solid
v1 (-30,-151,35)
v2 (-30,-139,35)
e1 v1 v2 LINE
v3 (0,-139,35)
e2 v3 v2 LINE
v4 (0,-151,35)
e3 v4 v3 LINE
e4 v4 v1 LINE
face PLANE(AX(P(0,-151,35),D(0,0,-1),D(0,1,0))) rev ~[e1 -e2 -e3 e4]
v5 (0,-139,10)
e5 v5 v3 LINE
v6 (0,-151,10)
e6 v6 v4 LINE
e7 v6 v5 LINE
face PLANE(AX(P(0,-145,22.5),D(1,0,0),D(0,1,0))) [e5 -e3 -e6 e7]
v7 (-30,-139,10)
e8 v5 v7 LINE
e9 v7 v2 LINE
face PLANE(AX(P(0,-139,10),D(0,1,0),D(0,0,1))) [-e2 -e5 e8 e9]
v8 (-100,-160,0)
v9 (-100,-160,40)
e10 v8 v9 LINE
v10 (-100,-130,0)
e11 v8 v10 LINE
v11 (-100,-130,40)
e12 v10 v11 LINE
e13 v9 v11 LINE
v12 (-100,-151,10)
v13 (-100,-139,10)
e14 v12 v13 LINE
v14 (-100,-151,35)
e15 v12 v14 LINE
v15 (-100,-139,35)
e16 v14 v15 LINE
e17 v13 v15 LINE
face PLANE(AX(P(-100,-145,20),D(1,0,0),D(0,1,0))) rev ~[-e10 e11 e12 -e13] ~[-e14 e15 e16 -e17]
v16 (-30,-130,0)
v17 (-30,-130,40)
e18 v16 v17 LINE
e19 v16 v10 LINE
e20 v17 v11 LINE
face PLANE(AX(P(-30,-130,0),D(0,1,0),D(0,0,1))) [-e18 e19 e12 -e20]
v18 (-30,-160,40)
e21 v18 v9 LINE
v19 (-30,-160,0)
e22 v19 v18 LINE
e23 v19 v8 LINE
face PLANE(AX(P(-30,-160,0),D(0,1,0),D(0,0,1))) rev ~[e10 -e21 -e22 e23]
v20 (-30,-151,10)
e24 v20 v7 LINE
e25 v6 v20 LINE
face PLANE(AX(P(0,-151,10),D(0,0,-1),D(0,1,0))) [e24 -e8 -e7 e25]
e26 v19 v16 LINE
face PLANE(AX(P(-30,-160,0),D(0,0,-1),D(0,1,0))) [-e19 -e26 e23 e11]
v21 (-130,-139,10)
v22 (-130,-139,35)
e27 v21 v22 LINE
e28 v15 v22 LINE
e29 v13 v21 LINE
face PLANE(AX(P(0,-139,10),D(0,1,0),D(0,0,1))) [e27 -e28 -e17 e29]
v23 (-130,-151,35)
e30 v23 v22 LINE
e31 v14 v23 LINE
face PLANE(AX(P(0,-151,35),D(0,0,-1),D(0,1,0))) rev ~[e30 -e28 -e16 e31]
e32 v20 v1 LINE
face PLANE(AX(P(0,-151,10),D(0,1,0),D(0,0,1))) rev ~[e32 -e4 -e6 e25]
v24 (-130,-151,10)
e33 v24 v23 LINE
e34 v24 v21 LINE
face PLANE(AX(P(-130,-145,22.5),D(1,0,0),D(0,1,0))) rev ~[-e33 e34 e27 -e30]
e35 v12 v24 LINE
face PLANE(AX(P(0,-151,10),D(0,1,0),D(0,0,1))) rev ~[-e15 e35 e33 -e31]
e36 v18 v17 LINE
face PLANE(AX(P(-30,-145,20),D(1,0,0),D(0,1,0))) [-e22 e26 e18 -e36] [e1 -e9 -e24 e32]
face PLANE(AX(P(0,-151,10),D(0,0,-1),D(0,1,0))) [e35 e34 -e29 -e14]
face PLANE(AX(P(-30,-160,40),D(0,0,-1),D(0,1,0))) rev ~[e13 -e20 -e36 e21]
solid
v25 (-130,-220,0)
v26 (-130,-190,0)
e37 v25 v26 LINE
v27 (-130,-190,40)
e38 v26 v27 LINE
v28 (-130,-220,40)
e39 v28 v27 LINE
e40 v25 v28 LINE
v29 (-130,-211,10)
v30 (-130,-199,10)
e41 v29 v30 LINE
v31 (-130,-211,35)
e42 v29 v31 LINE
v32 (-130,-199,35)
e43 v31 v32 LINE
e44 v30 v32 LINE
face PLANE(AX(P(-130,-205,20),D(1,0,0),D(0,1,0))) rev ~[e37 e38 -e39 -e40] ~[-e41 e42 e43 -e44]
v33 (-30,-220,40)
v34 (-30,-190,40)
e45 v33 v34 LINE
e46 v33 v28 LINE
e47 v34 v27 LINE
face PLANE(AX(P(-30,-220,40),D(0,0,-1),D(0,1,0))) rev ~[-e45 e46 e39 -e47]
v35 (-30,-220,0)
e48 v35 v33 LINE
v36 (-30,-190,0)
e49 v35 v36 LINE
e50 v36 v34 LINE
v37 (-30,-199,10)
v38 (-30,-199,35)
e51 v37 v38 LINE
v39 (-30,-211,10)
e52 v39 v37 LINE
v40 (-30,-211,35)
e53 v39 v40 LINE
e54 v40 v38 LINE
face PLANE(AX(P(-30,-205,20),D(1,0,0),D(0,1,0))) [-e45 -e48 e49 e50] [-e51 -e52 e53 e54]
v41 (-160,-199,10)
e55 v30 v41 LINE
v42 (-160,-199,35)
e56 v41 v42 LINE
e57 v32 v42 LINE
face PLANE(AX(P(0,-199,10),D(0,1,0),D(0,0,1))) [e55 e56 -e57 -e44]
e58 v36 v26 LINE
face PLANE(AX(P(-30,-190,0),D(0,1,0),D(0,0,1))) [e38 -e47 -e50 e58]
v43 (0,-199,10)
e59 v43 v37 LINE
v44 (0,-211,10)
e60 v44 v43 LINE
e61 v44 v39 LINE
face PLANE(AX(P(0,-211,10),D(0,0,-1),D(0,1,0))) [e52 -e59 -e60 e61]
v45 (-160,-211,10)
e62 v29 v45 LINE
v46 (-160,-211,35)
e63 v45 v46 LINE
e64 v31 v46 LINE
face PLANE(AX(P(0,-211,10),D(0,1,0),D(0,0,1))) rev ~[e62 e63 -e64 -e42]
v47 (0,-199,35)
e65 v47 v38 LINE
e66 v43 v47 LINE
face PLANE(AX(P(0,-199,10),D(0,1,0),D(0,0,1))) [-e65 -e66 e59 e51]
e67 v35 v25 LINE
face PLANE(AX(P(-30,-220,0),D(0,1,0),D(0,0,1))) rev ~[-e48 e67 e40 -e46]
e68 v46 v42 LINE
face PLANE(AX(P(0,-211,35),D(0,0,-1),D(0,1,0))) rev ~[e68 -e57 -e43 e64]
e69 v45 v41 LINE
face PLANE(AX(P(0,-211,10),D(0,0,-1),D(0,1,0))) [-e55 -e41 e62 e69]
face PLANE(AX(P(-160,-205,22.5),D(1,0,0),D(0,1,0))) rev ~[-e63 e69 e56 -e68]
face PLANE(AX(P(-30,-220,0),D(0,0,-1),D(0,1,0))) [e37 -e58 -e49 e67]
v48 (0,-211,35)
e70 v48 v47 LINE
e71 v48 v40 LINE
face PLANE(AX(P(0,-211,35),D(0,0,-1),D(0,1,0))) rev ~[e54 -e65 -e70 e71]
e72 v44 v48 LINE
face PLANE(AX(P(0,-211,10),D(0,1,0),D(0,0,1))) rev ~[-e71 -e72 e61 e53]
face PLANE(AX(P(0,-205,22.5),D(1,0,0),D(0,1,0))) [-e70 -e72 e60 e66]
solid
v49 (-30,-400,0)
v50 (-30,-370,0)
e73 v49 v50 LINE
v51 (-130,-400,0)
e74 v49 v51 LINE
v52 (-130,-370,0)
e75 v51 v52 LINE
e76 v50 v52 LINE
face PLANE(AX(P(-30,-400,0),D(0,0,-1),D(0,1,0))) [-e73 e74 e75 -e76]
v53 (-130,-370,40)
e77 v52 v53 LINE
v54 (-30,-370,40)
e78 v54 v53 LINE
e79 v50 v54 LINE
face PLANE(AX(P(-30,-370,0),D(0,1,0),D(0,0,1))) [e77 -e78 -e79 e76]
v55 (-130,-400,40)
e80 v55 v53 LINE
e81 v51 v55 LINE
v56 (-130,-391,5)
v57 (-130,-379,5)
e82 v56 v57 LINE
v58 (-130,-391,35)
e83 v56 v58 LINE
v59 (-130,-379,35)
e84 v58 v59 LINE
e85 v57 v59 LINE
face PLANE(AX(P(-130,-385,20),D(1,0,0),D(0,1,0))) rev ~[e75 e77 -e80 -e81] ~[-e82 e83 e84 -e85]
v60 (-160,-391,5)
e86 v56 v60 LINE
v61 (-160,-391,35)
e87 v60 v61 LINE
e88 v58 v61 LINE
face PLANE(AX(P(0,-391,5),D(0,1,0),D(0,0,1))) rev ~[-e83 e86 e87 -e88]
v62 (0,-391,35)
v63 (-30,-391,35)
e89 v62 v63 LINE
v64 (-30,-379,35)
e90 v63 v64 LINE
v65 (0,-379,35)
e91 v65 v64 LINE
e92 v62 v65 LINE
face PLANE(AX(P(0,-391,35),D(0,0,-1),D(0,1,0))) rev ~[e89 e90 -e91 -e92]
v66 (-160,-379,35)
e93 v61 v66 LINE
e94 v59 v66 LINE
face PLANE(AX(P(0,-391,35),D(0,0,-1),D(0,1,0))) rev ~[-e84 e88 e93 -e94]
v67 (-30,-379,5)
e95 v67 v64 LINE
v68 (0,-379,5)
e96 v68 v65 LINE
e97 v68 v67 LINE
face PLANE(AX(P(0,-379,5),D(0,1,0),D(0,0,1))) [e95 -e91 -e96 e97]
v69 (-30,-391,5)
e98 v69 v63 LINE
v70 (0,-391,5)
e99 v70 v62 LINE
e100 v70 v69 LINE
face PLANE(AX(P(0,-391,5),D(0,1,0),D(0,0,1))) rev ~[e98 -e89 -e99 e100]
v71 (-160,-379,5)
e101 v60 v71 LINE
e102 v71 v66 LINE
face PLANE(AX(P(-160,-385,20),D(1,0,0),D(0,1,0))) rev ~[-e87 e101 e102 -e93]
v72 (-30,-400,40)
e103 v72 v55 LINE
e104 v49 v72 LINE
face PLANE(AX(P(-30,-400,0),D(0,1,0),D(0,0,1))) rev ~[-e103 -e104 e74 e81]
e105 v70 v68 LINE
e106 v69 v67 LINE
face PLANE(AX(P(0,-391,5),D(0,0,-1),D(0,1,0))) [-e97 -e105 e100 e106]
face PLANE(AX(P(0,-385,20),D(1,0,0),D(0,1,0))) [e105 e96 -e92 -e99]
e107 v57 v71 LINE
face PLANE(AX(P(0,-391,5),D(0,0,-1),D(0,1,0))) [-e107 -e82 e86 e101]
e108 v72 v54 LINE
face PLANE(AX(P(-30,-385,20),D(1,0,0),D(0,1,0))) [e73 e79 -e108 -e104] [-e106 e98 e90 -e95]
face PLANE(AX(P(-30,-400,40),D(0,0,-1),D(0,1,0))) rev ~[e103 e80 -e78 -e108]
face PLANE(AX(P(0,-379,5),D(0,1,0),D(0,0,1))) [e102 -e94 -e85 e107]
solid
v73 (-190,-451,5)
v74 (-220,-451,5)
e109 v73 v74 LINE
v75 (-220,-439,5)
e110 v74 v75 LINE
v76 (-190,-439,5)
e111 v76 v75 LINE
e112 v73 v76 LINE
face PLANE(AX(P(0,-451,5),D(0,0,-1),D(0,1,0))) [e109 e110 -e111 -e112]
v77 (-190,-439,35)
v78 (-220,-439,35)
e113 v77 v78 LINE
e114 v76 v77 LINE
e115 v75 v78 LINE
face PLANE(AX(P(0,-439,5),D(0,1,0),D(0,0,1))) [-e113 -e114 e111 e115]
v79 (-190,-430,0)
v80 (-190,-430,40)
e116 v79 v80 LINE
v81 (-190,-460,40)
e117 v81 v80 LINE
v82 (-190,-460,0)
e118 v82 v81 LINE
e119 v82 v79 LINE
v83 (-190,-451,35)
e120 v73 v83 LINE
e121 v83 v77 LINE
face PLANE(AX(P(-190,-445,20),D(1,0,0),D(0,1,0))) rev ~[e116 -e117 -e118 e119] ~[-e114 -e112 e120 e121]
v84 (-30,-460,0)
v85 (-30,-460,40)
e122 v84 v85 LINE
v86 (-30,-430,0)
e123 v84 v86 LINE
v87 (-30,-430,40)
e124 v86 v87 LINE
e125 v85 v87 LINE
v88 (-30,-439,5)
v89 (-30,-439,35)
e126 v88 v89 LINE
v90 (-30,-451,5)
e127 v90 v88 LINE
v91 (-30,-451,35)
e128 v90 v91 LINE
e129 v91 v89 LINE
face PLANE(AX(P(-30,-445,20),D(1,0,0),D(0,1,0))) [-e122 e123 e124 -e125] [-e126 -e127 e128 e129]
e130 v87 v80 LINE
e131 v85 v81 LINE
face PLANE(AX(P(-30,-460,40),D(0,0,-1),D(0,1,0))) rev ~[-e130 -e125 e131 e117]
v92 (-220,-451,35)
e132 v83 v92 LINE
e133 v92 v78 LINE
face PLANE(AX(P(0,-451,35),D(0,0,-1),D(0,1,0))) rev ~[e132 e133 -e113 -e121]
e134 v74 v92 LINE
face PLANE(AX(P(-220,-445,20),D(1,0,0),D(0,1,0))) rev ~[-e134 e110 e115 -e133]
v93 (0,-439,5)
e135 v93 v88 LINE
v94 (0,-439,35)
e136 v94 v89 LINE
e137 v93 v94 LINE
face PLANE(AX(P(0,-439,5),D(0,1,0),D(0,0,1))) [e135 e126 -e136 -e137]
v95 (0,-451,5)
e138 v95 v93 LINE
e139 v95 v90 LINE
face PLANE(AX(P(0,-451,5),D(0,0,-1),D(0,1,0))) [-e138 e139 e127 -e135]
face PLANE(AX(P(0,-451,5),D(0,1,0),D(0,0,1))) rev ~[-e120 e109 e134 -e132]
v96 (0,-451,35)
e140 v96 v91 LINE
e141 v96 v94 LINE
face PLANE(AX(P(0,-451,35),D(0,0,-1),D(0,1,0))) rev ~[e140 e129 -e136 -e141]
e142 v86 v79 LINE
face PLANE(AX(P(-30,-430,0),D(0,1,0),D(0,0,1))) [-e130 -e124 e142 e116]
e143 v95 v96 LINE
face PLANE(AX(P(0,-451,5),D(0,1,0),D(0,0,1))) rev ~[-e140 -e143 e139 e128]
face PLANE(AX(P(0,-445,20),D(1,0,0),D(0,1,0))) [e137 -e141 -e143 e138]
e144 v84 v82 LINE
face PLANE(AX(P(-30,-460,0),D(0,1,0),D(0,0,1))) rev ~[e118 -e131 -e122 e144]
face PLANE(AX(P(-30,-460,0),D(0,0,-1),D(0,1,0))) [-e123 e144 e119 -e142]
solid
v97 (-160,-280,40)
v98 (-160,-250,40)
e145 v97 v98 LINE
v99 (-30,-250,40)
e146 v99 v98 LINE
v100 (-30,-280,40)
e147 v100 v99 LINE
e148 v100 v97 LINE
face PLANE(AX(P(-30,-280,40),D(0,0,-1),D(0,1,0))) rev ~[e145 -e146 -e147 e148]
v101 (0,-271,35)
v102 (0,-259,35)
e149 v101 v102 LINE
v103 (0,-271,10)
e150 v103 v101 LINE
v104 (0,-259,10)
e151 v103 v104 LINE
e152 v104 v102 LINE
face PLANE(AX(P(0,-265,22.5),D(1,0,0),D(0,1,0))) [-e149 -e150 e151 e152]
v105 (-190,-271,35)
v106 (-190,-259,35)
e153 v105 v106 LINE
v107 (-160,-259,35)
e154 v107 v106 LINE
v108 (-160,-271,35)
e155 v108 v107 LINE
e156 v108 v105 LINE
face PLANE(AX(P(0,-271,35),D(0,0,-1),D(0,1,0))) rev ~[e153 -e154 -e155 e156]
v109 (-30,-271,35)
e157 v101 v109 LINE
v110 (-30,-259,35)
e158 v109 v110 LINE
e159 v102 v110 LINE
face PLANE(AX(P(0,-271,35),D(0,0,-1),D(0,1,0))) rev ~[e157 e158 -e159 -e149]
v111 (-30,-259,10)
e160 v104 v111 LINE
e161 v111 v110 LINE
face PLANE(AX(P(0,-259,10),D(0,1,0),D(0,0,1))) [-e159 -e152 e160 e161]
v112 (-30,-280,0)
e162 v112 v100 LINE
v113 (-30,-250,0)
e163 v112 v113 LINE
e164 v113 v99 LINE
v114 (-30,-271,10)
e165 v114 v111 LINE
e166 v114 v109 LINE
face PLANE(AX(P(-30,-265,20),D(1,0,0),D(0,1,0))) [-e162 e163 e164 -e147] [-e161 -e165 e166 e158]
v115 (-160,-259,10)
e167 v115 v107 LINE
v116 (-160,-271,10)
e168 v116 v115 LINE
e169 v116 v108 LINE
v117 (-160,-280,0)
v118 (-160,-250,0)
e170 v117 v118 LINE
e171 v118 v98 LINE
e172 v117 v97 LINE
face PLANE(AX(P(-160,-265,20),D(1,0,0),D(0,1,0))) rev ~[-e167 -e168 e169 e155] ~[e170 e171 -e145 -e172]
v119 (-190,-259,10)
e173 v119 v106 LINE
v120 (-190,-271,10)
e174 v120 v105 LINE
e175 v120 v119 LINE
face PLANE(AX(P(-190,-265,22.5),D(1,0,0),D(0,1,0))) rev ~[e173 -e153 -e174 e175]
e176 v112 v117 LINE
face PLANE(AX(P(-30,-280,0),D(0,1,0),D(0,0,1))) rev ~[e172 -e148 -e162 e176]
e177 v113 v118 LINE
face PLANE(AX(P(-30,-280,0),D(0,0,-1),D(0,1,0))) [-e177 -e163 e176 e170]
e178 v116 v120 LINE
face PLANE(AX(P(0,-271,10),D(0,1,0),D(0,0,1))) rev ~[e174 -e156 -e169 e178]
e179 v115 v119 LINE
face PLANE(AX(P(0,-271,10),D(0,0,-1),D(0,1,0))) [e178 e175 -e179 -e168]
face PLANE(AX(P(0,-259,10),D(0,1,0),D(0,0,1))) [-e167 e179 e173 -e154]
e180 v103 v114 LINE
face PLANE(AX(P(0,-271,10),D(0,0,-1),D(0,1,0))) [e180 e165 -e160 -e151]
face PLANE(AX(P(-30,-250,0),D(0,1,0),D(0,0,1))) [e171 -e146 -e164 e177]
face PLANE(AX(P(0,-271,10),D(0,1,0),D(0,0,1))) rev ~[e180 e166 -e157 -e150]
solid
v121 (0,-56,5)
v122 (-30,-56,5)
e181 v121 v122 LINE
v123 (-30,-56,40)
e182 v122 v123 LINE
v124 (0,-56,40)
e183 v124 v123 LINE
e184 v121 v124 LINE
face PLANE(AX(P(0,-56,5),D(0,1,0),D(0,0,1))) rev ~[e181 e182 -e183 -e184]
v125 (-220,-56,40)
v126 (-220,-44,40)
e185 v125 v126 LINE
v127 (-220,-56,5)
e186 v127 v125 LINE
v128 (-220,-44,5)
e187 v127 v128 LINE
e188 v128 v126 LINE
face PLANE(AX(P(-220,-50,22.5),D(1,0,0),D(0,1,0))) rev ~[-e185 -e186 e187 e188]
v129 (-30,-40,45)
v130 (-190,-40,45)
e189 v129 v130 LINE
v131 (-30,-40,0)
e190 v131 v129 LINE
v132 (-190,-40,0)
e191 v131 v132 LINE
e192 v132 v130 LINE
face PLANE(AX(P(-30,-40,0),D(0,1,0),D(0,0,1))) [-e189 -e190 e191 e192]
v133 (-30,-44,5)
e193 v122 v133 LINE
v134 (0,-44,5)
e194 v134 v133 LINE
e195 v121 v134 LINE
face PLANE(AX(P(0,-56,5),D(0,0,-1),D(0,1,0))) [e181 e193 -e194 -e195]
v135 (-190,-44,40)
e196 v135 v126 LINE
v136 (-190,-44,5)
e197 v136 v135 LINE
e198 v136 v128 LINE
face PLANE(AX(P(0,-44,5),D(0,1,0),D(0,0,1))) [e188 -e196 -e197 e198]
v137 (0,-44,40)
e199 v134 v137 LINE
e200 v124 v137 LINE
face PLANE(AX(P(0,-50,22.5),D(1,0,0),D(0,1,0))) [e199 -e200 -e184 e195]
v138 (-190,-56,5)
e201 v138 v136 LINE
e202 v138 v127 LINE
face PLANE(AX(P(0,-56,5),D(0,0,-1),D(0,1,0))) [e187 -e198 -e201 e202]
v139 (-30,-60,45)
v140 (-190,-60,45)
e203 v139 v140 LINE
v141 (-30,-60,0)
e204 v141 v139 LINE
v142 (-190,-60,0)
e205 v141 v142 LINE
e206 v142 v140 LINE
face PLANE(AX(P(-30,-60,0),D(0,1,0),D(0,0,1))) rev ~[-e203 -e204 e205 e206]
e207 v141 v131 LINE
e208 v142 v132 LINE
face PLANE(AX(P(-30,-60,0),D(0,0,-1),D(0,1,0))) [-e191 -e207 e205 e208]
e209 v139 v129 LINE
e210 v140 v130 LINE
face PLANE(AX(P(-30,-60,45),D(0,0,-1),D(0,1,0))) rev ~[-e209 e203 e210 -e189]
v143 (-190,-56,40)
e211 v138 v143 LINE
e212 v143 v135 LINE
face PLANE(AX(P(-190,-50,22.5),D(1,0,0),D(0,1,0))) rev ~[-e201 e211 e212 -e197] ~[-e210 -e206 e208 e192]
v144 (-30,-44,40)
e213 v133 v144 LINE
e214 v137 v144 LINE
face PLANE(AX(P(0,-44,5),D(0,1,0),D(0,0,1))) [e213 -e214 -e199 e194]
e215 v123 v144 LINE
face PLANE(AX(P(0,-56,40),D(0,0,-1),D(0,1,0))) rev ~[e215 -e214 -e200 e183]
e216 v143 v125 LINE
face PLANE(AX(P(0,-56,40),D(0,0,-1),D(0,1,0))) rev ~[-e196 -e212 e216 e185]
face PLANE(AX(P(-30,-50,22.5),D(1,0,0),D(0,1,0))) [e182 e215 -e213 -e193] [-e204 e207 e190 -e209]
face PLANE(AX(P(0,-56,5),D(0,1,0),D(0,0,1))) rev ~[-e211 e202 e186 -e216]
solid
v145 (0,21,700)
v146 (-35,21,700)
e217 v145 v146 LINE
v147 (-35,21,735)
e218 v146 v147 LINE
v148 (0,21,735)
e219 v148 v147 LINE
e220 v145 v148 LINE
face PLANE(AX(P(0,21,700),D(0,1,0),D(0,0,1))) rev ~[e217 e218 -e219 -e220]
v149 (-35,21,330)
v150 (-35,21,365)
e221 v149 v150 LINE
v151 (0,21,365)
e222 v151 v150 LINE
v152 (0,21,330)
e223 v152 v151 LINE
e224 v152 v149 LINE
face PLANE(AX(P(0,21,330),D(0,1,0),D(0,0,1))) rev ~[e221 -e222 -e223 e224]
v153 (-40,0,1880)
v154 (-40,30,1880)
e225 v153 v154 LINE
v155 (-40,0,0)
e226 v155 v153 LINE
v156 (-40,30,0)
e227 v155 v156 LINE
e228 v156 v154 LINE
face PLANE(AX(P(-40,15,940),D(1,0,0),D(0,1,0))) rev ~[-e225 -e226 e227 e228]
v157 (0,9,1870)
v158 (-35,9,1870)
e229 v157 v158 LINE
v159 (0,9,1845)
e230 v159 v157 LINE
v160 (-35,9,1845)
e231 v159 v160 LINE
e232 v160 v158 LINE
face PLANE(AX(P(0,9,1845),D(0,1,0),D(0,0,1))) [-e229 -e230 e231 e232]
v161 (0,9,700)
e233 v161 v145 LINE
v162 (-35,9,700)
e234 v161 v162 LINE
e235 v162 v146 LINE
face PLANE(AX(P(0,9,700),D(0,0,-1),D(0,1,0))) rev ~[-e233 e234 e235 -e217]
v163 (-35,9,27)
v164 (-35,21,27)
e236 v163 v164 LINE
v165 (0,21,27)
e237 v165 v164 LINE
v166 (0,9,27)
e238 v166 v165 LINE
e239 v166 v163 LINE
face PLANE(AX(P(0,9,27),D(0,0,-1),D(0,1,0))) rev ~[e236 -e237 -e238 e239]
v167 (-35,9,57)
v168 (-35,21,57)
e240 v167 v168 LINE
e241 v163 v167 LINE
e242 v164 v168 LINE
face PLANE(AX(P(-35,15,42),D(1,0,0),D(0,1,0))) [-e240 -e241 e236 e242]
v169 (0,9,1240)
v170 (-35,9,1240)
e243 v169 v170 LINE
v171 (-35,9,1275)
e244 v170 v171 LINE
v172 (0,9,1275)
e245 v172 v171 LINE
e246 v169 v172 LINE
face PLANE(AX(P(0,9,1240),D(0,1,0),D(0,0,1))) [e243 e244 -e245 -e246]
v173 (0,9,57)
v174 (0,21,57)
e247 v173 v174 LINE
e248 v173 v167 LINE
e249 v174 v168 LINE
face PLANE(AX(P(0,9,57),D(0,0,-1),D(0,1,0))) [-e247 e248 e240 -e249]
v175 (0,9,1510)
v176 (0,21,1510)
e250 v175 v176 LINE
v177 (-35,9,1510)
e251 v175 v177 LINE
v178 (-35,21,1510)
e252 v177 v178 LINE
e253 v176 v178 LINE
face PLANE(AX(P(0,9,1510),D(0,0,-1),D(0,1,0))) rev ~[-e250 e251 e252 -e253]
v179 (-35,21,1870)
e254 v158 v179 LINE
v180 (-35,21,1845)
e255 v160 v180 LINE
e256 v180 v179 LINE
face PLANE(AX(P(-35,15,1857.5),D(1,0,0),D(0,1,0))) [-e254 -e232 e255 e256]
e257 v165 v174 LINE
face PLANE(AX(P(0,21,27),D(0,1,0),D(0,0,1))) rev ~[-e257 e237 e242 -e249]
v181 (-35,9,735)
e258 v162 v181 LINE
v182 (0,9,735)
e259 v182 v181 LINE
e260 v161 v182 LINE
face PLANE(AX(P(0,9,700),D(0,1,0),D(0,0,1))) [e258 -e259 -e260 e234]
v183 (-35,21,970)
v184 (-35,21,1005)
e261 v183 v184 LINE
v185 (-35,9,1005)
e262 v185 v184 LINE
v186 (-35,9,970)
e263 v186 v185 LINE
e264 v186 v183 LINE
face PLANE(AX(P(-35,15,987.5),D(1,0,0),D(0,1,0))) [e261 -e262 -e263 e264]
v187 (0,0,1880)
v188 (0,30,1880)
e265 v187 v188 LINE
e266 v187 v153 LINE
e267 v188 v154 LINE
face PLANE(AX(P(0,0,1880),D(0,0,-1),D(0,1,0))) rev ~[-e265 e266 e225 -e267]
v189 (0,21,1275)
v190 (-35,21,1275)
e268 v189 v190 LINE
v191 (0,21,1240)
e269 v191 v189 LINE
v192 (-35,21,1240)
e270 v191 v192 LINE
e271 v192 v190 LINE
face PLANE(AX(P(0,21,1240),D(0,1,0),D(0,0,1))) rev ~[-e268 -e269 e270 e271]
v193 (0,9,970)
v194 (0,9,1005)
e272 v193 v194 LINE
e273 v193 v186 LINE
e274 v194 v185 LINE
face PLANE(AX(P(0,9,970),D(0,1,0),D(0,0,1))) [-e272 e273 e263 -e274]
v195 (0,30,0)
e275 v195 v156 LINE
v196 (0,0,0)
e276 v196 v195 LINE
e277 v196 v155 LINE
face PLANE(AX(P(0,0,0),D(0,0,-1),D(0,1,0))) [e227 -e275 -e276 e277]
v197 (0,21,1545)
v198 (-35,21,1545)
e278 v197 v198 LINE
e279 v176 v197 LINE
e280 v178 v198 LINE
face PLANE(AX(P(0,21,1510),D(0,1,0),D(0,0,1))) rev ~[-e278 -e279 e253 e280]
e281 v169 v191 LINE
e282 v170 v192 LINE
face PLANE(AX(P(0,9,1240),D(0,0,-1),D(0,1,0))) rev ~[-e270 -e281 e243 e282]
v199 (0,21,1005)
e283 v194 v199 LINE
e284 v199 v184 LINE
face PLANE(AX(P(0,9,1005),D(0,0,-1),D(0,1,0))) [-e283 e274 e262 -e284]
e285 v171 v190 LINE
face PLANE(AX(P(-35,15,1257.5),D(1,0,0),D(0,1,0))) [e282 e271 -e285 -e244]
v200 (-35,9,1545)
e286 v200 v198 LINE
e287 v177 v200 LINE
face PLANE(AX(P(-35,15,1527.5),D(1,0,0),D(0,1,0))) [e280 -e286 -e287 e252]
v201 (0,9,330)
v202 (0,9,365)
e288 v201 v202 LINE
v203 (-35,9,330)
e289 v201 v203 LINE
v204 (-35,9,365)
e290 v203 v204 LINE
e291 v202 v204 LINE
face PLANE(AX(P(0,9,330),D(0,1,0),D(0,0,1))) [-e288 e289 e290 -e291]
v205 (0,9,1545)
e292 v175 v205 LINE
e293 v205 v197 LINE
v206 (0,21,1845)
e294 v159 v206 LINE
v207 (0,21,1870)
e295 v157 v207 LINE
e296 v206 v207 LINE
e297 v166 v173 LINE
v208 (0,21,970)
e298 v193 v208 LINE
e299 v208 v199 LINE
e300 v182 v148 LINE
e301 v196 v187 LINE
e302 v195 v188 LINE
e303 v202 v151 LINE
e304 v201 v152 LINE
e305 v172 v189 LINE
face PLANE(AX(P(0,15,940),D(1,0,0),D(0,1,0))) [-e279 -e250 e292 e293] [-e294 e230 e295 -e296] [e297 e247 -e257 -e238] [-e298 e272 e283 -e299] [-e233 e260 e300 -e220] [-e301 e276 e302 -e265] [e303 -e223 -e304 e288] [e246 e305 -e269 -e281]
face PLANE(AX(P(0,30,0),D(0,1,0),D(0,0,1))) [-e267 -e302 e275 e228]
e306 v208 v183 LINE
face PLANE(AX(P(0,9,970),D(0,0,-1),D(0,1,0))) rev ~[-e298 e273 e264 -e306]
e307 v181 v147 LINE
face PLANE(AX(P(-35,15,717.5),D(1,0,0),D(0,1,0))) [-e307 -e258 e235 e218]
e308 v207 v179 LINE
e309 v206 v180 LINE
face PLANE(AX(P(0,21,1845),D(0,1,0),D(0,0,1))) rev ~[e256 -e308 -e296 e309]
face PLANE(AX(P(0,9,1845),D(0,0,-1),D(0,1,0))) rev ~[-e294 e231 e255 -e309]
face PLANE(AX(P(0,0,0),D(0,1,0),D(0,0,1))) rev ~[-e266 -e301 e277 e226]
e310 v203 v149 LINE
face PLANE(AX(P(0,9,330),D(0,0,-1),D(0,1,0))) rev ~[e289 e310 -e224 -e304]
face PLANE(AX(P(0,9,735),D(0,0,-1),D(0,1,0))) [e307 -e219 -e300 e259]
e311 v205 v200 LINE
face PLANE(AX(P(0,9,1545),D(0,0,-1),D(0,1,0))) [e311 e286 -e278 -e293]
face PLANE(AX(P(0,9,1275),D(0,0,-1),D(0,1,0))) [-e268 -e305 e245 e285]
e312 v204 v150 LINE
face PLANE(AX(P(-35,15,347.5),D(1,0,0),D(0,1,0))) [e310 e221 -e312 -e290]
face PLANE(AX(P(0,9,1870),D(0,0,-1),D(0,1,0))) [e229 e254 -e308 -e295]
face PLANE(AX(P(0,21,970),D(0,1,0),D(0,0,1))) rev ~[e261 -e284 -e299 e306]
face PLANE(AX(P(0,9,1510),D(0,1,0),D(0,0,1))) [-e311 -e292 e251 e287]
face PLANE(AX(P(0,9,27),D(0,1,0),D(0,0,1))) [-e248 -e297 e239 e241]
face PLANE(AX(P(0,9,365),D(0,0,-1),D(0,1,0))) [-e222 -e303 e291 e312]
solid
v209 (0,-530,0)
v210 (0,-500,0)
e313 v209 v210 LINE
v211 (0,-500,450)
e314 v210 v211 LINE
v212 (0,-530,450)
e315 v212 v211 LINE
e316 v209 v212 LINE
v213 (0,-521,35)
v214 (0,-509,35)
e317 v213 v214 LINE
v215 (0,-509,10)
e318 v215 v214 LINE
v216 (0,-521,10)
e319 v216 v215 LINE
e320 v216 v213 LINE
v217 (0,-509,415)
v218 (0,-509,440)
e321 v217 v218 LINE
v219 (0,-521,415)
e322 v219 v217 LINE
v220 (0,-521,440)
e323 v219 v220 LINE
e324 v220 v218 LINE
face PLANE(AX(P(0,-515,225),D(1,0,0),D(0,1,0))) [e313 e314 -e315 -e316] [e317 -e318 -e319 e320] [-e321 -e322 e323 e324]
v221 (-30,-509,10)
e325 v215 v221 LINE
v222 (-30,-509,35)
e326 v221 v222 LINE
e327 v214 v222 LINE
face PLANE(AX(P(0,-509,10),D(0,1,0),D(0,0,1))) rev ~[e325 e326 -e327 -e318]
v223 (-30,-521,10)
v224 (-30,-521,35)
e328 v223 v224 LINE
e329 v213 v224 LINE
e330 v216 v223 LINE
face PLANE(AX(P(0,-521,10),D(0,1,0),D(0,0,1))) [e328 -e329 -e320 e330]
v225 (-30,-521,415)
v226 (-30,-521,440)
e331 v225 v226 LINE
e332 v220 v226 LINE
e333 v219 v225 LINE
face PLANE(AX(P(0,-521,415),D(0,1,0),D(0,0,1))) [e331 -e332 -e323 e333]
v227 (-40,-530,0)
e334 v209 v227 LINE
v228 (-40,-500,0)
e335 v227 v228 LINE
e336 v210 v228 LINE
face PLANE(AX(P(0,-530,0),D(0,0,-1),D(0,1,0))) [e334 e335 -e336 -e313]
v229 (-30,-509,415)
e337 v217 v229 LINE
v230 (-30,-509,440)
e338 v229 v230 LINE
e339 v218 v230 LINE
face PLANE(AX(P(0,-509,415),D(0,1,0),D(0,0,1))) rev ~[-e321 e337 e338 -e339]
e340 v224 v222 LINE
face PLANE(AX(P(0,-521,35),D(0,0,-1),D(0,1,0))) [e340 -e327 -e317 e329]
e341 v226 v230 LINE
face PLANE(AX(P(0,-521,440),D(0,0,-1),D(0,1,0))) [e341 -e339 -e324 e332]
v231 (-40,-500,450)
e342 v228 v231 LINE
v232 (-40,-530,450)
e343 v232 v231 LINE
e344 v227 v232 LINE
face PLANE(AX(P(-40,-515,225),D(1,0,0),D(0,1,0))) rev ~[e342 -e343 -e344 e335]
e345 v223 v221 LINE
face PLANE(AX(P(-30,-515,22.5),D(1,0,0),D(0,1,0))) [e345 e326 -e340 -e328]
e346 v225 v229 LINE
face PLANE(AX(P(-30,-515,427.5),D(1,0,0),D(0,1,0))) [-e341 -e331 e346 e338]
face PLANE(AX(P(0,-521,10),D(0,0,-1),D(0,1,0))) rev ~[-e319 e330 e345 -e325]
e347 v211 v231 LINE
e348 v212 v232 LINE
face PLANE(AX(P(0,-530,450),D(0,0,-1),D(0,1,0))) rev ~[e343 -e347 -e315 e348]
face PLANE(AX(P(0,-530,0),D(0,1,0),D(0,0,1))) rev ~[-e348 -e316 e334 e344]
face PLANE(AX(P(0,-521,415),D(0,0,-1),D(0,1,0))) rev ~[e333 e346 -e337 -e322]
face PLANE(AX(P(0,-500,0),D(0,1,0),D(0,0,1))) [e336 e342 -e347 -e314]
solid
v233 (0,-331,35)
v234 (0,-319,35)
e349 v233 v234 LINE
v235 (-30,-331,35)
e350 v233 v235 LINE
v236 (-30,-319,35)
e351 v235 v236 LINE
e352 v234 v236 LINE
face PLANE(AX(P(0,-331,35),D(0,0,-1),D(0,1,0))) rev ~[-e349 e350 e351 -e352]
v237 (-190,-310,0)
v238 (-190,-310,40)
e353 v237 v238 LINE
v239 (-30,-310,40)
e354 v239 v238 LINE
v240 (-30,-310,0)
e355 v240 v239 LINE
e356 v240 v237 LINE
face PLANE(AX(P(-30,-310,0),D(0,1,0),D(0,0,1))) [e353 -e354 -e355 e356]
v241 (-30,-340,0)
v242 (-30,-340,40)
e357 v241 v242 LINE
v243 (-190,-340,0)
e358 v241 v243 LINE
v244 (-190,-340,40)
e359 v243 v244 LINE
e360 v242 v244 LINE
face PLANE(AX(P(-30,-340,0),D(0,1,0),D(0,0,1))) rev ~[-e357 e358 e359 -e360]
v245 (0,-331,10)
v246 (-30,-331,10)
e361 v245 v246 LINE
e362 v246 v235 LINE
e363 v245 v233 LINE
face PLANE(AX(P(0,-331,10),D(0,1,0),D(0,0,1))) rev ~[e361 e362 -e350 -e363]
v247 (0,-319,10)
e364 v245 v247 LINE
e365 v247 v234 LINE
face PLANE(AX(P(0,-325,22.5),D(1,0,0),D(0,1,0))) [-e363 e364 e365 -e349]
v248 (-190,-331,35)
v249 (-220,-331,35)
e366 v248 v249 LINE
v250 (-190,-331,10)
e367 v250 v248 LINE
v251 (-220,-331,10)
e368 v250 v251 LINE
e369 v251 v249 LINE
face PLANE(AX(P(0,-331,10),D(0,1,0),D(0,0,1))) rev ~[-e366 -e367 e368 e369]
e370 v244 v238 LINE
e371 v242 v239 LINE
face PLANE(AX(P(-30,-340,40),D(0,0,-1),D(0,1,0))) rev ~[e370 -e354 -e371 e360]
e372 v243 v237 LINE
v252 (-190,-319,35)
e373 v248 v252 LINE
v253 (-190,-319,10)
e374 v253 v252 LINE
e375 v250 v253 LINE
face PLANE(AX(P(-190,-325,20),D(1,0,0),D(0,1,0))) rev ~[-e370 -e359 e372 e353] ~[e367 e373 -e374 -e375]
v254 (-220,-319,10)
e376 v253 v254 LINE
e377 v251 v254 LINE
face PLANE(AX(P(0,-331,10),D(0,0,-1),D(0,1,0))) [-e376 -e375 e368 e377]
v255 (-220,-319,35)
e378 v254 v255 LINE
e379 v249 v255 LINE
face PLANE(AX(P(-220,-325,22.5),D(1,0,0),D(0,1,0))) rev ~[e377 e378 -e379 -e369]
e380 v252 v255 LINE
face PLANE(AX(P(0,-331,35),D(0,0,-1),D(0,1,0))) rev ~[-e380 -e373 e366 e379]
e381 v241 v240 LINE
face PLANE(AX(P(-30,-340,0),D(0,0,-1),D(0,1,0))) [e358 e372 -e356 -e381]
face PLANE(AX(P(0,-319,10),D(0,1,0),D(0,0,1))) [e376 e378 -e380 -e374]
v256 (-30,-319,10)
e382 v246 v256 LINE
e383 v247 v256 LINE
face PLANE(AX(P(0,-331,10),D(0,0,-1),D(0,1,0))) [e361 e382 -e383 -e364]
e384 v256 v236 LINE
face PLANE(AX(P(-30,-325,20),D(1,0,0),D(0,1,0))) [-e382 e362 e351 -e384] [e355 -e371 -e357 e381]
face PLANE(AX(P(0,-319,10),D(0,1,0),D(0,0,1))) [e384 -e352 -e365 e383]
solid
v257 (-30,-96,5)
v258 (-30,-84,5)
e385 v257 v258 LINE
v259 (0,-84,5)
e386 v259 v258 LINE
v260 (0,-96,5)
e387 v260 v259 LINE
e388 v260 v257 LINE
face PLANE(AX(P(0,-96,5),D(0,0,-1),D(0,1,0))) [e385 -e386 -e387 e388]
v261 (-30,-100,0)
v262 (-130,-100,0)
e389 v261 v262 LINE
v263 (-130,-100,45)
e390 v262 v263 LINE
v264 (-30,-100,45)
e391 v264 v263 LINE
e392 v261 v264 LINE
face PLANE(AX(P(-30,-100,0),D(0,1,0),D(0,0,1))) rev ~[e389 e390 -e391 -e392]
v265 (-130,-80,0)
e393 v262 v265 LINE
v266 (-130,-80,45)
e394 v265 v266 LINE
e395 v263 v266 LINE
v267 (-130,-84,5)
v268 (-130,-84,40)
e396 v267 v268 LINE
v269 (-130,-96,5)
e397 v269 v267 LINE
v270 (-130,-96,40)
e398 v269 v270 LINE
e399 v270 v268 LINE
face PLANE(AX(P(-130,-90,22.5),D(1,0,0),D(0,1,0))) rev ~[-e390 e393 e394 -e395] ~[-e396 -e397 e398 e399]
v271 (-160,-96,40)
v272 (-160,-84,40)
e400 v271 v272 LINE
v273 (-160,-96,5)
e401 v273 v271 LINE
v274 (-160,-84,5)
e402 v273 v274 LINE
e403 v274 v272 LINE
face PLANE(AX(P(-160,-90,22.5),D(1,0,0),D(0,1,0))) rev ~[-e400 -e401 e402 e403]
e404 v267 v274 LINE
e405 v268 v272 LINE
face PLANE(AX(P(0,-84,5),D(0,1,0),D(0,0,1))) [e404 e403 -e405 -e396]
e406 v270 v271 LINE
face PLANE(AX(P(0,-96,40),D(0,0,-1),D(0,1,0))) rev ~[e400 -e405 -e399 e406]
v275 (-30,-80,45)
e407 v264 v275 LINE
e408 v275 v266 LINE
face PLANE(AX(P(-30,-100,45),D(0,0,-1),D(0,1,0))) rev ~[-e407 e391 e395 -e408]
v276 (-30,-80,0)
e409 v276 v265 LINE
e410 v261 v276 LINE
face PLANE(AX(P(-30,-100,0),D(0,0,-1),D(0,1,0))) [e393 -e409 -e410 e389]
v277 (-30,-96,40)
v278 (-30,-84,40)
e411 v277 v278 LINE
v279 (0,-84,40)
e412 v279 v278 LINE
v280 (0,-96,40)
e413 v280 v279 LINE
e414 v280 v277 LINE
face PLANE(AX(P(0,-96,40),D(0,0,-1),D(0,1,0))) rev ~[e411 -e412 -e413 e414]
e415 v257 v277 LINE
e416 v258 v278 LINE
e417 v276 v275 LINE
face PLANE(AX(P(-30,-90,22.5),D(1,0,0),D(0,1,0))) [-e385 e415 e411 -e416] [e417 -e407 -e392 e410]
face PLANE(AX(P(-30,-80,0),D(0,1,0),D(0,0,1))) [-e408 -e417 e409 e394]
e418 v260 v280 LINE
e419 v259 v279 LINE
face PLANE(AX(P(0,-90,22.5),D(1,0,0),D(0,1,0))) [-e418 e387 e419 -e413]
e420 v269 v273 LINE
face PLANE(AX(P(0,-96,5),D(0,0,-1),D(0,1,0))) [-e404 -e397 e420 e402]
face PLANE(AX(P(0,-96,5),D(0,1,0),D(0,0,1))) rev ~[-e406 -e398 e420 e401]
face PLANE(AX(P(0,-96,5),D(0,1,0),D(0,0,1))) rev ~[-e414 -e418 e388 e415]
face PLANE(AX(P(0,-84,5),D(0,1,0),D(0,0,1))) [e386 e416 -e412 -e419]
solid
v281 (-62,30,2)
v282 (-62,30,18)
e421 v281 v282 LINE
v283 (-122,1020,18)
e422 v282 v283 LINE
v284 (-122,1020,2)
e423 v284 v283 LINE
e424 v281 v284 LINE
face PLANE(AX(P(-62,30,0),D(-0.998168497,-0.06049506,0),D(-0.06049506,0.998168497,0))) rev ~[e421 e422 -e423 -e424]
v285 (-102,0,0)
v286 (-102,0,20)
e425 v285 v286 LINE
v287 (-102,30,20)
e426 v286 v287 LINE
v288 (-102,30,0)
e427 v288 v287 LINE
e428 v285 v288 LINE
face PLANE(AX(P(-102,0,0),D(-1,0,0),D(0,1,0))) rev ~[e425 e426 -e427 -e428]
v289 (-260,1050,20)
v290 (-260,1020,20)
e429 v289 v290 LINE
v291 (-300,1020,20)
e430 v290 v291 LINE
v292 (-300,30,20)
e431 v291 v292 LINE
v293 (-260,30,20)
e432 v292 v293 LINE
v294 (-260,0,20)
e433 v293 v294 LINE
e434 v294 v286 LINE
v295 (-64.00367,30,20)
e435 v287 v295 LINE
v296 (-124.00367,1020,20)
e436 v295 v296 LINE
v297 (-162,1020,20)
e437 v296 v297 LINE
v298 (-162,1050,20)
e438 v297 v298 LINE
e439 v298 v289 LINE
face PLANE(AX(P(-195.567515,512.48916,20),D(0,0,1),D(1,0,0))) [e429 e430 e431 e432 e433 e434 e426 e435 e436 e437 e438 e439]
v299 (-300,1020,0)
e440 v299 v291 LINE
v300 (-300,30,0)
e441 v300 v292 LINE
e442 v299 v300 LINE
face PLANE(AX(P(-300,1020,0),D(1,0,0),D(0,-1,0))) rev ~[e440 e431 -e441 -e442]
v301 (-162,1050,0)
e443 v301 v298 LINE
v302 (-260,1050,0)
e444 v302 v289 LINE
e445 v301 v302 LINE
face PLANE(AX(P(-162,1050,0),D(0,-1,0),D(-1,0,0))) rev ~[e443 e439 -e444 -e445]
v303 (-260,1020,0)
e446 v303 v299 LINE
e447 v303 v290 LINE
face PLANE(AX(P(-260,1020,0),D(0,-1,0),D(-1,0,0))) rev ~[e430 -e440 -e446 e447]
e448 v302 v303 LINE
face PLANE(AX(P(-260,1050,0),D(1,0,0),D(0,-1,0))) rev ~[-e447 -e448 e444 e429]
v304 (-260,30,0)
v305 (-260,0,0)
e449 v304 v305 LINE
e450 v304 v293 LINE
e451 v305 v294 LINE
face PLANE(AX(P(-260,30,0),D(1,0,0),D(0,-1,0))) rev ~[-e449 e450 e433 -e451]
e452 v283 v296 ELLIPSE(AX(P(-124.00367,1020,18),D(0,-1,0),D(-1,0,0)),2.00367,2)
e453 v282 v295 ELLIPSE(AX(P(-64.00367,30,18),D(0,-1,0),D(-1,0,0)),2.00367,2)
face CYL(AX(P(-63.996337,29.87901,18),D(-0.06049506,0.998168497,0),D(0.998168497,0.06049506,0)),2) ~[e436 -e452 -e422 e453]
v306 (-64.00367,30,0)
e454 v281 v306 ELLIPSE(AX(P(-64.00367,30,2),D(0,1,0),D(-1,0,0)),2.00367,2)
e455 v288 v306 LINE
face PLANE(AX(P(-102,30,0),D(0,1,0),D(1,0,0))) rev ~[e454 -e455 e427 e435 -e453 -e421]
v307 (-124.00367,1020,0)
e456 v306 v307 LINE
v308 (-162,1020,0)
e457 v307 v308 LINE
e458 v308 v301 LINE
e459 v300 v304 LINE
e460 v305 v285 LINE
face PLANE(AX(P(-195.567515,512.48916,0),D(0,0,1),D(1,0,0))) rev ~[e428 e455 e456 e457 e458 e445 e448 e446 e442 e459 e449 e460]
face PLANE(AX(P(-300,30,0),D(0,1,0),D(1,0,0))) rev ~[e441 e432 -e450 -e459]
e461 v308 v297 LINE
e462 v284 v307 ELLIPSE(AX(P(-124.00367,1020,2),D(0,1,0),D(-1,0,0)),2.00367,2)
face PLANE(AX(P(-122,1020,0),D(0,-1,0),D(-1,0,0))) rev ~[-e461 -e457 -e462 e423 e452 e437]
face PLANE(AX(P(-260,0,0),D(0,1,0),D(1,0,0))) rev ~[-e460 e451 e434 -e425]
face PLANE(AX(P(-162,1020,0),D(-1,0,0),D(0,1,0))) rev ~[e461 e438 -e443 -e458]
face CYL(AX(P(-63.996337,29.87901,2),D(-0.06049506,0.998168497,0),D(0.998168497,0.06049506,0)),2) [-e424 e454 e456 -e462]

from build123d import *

# Parameters (mm, degrees)
F1_W      = 12
F1_H      = 35
F2_DEPTH  = 220
F3_START  = -30
F1_W_2    = 20
F1_H_2    = 45
F3_DEPTH  = 160
F4_DEPTH  = 160
F5_START  = -30
F5_DEPTH  = 100
F7_DEPTH  = 20
F8_R      = 2
F0_W      = 30
F0_H      = 1880
F0_W_2    = 12
F0_H_2    = 30
F0_H_3    = 35
F0_H_4    = 25
F9_DEPTH  = 40
F10_DEPTH = 35
F11_W     = 12
F11_H     = 25
F12_DEPTH = 130
F13_START = -30
F11_W_2   = 30
F11_H_2   = 40
F13_DEPTH = 70
F14_DEPTH = 160
F15_START = -30
F15_DEPTH = 100
F16_DEPTH = 190
F17_START = -30
F17_DEPTH = 130
F18_DEPTH = 220
F19_START = -30
F19_DEPTH = 160
F11_H_3   = 30
F20_DEPTH = 160
F21_START = -30
F21_DEPTH = 100
F22_DEPTH = 220
F23_START = -30
F23_DEPTH = 160
F24_W     = 30
F24_H     = 450
F24_W_2   = 12
F24_H_2   = 25
F25_DEPTH = 40
F26_DEPTH = 30


with BuildPart() as f2:
    # F1 (on Right) → F2 (new body)
    with BuildSketch(Plane.YZ):
        with Locations((-50, 22.5)):
            Rectangle(F1_W, F1_H)
    extrude(amount=-F2_DEPTH)

    # F1 (on Right) → F3 (join)
    with BuildSketch(Plane.YZ.offset(F3_START)):
        with Locations((-50, 22.5)):
            Rectangle(F1_W_2, F1_H_2)
        with Locations((-50, 22.5)):
            Rectangle(F1_W, F1_H, mode=Mode.SUBTRACT)
    extrude(amount=-F3_DEPTH)


with BuildPart() as f4:
    # F1 (on Right) → F4 (new body)
    with BuildSketch(Plane.YZ):
        with Locations((-90, 22.5)):
            Rectangle(F1_W, F1_H)
    extrude(amount=-F4_DEPTH)

    # F1 (on Right) → F5 (join)
    with BuildSketch(Plane.YZ.offset(F5_START)):
        with Locations((-90, 22.5)):
            Rectangle(F1_W_2, F1_H_2)
        with Locations((-90, 22.5)):
            Rectangle(F1_W, F1_H, mode=Mode.SUBTRACT)
    extrude(amount=-F5_DEPTH)


with BuildPart() as f7:
    # F6 (on Top) → F7 (new body)
    with BuildSketch(Plane.XY):
        Polygon((-260, 0), (-102, 0), (-102, 30), (-62, 30), (-122, 1020), (-162, 1020), (-162, 1050), (-260, 1050), (-260, 1020), (-300, 1020), (-300, 30), (-260, 30), align=None)
    extrude(amount=F7_DEPTH)

    # F8
    f8_edges = [f7.edges().sort_by_distance(p)[0] for p in [
        (-92, 525, 20),
        (-92, 525, 0),
    ]]
    fillet(f8_edges, radius=F8_R)


with BuildPart() as f9:
    # F0 (on Right) → F9 (new body)
    with BuildSketch(Plane.YZ):
        with Locations((15, 940)):
            Rectangle(F0_W, F0_H)
        with Locations((15, 42)):
            Rectangle(F0_W_2, F0_H_2, mode=Mode.SUBTRACT)
        with Locations((15, 347.5)):
            Rectangle(F0_W_2, F0_H_3, mode=Mode.SUBTRACT)
        with Locations((15, 717.5)):
            Rectangle(F0_W_2, F0_H_3, mode=Mode.SUBTRACT)
        with Locations((15, 987.5)):
            Rectangle(F0_W_2, F0_H_3, mode=Mode.SUBTRACT)
        with Locations((15, 1257.5)):
            Rectangle(F0_W_2, F0_H_3, mode=Mode.SUBTRACT)
        with Locations((15, 1527.5)):
            Rectangle(F0_W_2, F0_H_3, mode=Mode.SUBTRACT)
        with Locations((15, 1857.5)):
            Rectangle(F0_W_2, F0_H_4, mode=Mode.SUBTRACT)
        with Locations((15, 1527.5)):
            Rectangle(F0_W_2, F0_H_3)
        with Locations((15, 1257.5)):
            Rectangle(F0_W_2, F0_H_3)
        with Locations((15, 987.5)):
            Rectangle(F0_W_2, F0_H_3)
        with Locations((15, 717.5)):
            Rectangle(F0_W_2, F0_H_3)
        with Locations((15, 347.5)):
            Rectangle(F0_W_2, F0_H_3)
        with Locations((15, 42)):
            Rectangle(F0_W_2, F0_H_2)
        with Locations((15, 1857.5)):
            Rectangle(F0_W_2, F0_H_4)
    extrude(amount=-F9_DEPTH)

    # F0 (on Right) → F10 (cut)
    with BuildSketch(Plane.YZ):
        with Locations((15, 42)):
            Rectangle(F0_W_2, F0_H_2)
        with Locations((15, 347.5)):
            Rectangle(F0_W_2, F0_H_3)
        with Locations((15, 717.5)):
            Rectangle(F0_W_2, F0_H_3)
        with Locations((15, 987.5)):
            Rectangle(F0_W_2, F0_H_3)
        with Locations((15, 1257.5)):
            Rectangle(F0_W_2, F0_H_3)
        with Locations((15, 1527.5)):
            Rectangle(F0_W_2, F0_H_3)
        with Locations((15, 1857.5)):
            Rectangle(F0_W_2, F0_H_4)
    extrude(amount=-F10_DEPTH, mode=Mode.SUBTRACT)


with BuildPart() as f12:
    # F11 (on Right) → F12 (new body)
    with BuildSketch(Plane.YZ):
        with Locations((-145, 22.5)):
            Rectangle(F11_W, F11_H)
    extrude(amount=-F12_DEPTH)

    # F11 (on Right) → F13 (join)
    with BuildSketch(Plane.YZ.offset(F13_START)):
        with Locations((-145, 20)):
            Rectangle(F11_W_2, F11_H_2)
        with Locations((-145, 22.5)):
            Rectangle(F11_W, F11_H, mode=Mode.SUBTRACT)
    extrude(amount=-F13_DEPTH)


with BuildPart() as f14:
    # F11 (on Right) → F14 (new body)
    with BuildSketch(Plane.YZ):
        with Locations((-205, 22.5)):
            Rectangle(F11_W, F11_H)
    extrude(amount=-F14_DEPTH)

    # F11 (on Right) → F15 (join)
    with BuildSketch(Plane.YZ.offset(F15_START)):
        with Locations((-205, 20)):
            Rectangle(F11_W_2, F11_H_2)
        with Locations((-205, 22.5)):
            Rectangle(F11_W, F11_H, mode=Mode.SUBTRACT)
    extrude(amount=-F15_DEPTH)


with BuildPart() as f16:
    # F11 (on Right) → F16 (new body)
    with BuildSketch(Plane.YZ):
        with Locations((-265, 22.5)):
            Rectangle(F11_W, F11_H)
    extrude(amount=-F16_DEPTH)

    # F11 (on Right) → F17 (join)
    with BuildSketch(Plane.YZ.offset(F17_START)):
        with Locations((-265, 20)):
            Rectangle(F11_W_2, F11_H_2)
        with Locations((-265, 22.5)):
            Rectangle(F11_W, F11_H, mode=Mode.SUBTRACT)
    extrude(amount=-F17_DEPTH)


with BuildPart() as f18:
    # F11 (on Right) → F18 (new body)
    with BuildSketch(Plane.YZ):
        with Locations((-325, 22.5)):
            Rectangle(F11_W, F11_H)
    extrude(amount=-F18_DEPTH)

    # F11 (on Right) → F19 (join)
    with BuildSketch(Plane.YZ.offset(F19_START)):
        with Locations((-325, 20)):
            Rectangle(F11_W_2, F11_H_2)
        with Locations((-325, 22.5)):
            Rectangle(F11_W, F11_H, mode=Mode.SUBTRACT)
    extrude(amount=-F19_DEPTH)


with BuildPart() as f20:
    # F11 (on Right) → F20 (new body)
    with BuildSketch(Plane.YZ):
        with Locations((-385, 20)):
            Rectangle(F11_W, F11_H_3)
    extrude(amount=-F20_DEPTH)

    # F11 (on Right) → F21 (join)
    with BuildSketch(Plane.YZ.offset(F21_START)):
        with Locations((-385, 20)):
            Rectangle(F11_W_2, F11_H_2)
        with Locations((-385, 20)):
            Rectangle(F11_W, F11_H_3, mode=Mode.SUBTRACT)
    extrude(amount=-F21_DEPTH)


with BuildPart() as f22:
    # F11 (on Right) → F22 (new body)
    with BuildSketch(Plane.YZ):
        with Locations((-445, 20)):
            Rectangle(F11_W, F11_H_3)
    extrude(amount=-F22_DEPTH)

    # F11 (on Right) → F23 (join)
    with BuildSketch(Plane.YZ.offset(F23_START)):
        with Locations((-445, 20)):
            Rectangle(F11_W_2, F11_H_2)
        with Locations((-445, 20)):
            Rectangle(F11_W, F11_H_3, mode=Mode.SUBTRACT)
    extrude(amount=-F23_DEPTH)


with BuildPart() as f25:
    # F24 (on Right) → F25 (new body)
    with BuildSketch(Plane.YZ):
        with Locations((-515, 225)):
            Rectangle(F24_W, F24_H)
        with Locations((-515, 22.5)):
            Rectangle(F24_W_2, F24_H_2, mode=Mode.SUBTRACT)
        with Locations((-515, 427.5)):
            Rectangle(F24_W_2, F24_H_2, mode=Mode.SUBTRACT)
        with Locations((-515, 427.5)):
            Rectangle(F24_W_2, F24_H_2)
        with Locations((-515, 22.5)):
            Rectangle(F24_W_2, F24_H_2)
    extrude(amount=-F25_DEPTH)

    # F24 (on Right) → F26 (cut)
    with BuildSketch(Plane.YZ):
        with Locations((-515, 427.5)):
            Rectangle(F24_W_2, F24_H_2)
        with Locations((-515, 22.5)):
            Rectangle(F24_W_2, F24_H_2)
    extrude(amount=-F26_DEPTH, mode=Mode.SUBTRACT)


solid = Compound([f2.part, f4.part, f7.part, f9.part, f12.part, f14.part, f16.part, f18.part, f20.part, f22.part, f25.part])
